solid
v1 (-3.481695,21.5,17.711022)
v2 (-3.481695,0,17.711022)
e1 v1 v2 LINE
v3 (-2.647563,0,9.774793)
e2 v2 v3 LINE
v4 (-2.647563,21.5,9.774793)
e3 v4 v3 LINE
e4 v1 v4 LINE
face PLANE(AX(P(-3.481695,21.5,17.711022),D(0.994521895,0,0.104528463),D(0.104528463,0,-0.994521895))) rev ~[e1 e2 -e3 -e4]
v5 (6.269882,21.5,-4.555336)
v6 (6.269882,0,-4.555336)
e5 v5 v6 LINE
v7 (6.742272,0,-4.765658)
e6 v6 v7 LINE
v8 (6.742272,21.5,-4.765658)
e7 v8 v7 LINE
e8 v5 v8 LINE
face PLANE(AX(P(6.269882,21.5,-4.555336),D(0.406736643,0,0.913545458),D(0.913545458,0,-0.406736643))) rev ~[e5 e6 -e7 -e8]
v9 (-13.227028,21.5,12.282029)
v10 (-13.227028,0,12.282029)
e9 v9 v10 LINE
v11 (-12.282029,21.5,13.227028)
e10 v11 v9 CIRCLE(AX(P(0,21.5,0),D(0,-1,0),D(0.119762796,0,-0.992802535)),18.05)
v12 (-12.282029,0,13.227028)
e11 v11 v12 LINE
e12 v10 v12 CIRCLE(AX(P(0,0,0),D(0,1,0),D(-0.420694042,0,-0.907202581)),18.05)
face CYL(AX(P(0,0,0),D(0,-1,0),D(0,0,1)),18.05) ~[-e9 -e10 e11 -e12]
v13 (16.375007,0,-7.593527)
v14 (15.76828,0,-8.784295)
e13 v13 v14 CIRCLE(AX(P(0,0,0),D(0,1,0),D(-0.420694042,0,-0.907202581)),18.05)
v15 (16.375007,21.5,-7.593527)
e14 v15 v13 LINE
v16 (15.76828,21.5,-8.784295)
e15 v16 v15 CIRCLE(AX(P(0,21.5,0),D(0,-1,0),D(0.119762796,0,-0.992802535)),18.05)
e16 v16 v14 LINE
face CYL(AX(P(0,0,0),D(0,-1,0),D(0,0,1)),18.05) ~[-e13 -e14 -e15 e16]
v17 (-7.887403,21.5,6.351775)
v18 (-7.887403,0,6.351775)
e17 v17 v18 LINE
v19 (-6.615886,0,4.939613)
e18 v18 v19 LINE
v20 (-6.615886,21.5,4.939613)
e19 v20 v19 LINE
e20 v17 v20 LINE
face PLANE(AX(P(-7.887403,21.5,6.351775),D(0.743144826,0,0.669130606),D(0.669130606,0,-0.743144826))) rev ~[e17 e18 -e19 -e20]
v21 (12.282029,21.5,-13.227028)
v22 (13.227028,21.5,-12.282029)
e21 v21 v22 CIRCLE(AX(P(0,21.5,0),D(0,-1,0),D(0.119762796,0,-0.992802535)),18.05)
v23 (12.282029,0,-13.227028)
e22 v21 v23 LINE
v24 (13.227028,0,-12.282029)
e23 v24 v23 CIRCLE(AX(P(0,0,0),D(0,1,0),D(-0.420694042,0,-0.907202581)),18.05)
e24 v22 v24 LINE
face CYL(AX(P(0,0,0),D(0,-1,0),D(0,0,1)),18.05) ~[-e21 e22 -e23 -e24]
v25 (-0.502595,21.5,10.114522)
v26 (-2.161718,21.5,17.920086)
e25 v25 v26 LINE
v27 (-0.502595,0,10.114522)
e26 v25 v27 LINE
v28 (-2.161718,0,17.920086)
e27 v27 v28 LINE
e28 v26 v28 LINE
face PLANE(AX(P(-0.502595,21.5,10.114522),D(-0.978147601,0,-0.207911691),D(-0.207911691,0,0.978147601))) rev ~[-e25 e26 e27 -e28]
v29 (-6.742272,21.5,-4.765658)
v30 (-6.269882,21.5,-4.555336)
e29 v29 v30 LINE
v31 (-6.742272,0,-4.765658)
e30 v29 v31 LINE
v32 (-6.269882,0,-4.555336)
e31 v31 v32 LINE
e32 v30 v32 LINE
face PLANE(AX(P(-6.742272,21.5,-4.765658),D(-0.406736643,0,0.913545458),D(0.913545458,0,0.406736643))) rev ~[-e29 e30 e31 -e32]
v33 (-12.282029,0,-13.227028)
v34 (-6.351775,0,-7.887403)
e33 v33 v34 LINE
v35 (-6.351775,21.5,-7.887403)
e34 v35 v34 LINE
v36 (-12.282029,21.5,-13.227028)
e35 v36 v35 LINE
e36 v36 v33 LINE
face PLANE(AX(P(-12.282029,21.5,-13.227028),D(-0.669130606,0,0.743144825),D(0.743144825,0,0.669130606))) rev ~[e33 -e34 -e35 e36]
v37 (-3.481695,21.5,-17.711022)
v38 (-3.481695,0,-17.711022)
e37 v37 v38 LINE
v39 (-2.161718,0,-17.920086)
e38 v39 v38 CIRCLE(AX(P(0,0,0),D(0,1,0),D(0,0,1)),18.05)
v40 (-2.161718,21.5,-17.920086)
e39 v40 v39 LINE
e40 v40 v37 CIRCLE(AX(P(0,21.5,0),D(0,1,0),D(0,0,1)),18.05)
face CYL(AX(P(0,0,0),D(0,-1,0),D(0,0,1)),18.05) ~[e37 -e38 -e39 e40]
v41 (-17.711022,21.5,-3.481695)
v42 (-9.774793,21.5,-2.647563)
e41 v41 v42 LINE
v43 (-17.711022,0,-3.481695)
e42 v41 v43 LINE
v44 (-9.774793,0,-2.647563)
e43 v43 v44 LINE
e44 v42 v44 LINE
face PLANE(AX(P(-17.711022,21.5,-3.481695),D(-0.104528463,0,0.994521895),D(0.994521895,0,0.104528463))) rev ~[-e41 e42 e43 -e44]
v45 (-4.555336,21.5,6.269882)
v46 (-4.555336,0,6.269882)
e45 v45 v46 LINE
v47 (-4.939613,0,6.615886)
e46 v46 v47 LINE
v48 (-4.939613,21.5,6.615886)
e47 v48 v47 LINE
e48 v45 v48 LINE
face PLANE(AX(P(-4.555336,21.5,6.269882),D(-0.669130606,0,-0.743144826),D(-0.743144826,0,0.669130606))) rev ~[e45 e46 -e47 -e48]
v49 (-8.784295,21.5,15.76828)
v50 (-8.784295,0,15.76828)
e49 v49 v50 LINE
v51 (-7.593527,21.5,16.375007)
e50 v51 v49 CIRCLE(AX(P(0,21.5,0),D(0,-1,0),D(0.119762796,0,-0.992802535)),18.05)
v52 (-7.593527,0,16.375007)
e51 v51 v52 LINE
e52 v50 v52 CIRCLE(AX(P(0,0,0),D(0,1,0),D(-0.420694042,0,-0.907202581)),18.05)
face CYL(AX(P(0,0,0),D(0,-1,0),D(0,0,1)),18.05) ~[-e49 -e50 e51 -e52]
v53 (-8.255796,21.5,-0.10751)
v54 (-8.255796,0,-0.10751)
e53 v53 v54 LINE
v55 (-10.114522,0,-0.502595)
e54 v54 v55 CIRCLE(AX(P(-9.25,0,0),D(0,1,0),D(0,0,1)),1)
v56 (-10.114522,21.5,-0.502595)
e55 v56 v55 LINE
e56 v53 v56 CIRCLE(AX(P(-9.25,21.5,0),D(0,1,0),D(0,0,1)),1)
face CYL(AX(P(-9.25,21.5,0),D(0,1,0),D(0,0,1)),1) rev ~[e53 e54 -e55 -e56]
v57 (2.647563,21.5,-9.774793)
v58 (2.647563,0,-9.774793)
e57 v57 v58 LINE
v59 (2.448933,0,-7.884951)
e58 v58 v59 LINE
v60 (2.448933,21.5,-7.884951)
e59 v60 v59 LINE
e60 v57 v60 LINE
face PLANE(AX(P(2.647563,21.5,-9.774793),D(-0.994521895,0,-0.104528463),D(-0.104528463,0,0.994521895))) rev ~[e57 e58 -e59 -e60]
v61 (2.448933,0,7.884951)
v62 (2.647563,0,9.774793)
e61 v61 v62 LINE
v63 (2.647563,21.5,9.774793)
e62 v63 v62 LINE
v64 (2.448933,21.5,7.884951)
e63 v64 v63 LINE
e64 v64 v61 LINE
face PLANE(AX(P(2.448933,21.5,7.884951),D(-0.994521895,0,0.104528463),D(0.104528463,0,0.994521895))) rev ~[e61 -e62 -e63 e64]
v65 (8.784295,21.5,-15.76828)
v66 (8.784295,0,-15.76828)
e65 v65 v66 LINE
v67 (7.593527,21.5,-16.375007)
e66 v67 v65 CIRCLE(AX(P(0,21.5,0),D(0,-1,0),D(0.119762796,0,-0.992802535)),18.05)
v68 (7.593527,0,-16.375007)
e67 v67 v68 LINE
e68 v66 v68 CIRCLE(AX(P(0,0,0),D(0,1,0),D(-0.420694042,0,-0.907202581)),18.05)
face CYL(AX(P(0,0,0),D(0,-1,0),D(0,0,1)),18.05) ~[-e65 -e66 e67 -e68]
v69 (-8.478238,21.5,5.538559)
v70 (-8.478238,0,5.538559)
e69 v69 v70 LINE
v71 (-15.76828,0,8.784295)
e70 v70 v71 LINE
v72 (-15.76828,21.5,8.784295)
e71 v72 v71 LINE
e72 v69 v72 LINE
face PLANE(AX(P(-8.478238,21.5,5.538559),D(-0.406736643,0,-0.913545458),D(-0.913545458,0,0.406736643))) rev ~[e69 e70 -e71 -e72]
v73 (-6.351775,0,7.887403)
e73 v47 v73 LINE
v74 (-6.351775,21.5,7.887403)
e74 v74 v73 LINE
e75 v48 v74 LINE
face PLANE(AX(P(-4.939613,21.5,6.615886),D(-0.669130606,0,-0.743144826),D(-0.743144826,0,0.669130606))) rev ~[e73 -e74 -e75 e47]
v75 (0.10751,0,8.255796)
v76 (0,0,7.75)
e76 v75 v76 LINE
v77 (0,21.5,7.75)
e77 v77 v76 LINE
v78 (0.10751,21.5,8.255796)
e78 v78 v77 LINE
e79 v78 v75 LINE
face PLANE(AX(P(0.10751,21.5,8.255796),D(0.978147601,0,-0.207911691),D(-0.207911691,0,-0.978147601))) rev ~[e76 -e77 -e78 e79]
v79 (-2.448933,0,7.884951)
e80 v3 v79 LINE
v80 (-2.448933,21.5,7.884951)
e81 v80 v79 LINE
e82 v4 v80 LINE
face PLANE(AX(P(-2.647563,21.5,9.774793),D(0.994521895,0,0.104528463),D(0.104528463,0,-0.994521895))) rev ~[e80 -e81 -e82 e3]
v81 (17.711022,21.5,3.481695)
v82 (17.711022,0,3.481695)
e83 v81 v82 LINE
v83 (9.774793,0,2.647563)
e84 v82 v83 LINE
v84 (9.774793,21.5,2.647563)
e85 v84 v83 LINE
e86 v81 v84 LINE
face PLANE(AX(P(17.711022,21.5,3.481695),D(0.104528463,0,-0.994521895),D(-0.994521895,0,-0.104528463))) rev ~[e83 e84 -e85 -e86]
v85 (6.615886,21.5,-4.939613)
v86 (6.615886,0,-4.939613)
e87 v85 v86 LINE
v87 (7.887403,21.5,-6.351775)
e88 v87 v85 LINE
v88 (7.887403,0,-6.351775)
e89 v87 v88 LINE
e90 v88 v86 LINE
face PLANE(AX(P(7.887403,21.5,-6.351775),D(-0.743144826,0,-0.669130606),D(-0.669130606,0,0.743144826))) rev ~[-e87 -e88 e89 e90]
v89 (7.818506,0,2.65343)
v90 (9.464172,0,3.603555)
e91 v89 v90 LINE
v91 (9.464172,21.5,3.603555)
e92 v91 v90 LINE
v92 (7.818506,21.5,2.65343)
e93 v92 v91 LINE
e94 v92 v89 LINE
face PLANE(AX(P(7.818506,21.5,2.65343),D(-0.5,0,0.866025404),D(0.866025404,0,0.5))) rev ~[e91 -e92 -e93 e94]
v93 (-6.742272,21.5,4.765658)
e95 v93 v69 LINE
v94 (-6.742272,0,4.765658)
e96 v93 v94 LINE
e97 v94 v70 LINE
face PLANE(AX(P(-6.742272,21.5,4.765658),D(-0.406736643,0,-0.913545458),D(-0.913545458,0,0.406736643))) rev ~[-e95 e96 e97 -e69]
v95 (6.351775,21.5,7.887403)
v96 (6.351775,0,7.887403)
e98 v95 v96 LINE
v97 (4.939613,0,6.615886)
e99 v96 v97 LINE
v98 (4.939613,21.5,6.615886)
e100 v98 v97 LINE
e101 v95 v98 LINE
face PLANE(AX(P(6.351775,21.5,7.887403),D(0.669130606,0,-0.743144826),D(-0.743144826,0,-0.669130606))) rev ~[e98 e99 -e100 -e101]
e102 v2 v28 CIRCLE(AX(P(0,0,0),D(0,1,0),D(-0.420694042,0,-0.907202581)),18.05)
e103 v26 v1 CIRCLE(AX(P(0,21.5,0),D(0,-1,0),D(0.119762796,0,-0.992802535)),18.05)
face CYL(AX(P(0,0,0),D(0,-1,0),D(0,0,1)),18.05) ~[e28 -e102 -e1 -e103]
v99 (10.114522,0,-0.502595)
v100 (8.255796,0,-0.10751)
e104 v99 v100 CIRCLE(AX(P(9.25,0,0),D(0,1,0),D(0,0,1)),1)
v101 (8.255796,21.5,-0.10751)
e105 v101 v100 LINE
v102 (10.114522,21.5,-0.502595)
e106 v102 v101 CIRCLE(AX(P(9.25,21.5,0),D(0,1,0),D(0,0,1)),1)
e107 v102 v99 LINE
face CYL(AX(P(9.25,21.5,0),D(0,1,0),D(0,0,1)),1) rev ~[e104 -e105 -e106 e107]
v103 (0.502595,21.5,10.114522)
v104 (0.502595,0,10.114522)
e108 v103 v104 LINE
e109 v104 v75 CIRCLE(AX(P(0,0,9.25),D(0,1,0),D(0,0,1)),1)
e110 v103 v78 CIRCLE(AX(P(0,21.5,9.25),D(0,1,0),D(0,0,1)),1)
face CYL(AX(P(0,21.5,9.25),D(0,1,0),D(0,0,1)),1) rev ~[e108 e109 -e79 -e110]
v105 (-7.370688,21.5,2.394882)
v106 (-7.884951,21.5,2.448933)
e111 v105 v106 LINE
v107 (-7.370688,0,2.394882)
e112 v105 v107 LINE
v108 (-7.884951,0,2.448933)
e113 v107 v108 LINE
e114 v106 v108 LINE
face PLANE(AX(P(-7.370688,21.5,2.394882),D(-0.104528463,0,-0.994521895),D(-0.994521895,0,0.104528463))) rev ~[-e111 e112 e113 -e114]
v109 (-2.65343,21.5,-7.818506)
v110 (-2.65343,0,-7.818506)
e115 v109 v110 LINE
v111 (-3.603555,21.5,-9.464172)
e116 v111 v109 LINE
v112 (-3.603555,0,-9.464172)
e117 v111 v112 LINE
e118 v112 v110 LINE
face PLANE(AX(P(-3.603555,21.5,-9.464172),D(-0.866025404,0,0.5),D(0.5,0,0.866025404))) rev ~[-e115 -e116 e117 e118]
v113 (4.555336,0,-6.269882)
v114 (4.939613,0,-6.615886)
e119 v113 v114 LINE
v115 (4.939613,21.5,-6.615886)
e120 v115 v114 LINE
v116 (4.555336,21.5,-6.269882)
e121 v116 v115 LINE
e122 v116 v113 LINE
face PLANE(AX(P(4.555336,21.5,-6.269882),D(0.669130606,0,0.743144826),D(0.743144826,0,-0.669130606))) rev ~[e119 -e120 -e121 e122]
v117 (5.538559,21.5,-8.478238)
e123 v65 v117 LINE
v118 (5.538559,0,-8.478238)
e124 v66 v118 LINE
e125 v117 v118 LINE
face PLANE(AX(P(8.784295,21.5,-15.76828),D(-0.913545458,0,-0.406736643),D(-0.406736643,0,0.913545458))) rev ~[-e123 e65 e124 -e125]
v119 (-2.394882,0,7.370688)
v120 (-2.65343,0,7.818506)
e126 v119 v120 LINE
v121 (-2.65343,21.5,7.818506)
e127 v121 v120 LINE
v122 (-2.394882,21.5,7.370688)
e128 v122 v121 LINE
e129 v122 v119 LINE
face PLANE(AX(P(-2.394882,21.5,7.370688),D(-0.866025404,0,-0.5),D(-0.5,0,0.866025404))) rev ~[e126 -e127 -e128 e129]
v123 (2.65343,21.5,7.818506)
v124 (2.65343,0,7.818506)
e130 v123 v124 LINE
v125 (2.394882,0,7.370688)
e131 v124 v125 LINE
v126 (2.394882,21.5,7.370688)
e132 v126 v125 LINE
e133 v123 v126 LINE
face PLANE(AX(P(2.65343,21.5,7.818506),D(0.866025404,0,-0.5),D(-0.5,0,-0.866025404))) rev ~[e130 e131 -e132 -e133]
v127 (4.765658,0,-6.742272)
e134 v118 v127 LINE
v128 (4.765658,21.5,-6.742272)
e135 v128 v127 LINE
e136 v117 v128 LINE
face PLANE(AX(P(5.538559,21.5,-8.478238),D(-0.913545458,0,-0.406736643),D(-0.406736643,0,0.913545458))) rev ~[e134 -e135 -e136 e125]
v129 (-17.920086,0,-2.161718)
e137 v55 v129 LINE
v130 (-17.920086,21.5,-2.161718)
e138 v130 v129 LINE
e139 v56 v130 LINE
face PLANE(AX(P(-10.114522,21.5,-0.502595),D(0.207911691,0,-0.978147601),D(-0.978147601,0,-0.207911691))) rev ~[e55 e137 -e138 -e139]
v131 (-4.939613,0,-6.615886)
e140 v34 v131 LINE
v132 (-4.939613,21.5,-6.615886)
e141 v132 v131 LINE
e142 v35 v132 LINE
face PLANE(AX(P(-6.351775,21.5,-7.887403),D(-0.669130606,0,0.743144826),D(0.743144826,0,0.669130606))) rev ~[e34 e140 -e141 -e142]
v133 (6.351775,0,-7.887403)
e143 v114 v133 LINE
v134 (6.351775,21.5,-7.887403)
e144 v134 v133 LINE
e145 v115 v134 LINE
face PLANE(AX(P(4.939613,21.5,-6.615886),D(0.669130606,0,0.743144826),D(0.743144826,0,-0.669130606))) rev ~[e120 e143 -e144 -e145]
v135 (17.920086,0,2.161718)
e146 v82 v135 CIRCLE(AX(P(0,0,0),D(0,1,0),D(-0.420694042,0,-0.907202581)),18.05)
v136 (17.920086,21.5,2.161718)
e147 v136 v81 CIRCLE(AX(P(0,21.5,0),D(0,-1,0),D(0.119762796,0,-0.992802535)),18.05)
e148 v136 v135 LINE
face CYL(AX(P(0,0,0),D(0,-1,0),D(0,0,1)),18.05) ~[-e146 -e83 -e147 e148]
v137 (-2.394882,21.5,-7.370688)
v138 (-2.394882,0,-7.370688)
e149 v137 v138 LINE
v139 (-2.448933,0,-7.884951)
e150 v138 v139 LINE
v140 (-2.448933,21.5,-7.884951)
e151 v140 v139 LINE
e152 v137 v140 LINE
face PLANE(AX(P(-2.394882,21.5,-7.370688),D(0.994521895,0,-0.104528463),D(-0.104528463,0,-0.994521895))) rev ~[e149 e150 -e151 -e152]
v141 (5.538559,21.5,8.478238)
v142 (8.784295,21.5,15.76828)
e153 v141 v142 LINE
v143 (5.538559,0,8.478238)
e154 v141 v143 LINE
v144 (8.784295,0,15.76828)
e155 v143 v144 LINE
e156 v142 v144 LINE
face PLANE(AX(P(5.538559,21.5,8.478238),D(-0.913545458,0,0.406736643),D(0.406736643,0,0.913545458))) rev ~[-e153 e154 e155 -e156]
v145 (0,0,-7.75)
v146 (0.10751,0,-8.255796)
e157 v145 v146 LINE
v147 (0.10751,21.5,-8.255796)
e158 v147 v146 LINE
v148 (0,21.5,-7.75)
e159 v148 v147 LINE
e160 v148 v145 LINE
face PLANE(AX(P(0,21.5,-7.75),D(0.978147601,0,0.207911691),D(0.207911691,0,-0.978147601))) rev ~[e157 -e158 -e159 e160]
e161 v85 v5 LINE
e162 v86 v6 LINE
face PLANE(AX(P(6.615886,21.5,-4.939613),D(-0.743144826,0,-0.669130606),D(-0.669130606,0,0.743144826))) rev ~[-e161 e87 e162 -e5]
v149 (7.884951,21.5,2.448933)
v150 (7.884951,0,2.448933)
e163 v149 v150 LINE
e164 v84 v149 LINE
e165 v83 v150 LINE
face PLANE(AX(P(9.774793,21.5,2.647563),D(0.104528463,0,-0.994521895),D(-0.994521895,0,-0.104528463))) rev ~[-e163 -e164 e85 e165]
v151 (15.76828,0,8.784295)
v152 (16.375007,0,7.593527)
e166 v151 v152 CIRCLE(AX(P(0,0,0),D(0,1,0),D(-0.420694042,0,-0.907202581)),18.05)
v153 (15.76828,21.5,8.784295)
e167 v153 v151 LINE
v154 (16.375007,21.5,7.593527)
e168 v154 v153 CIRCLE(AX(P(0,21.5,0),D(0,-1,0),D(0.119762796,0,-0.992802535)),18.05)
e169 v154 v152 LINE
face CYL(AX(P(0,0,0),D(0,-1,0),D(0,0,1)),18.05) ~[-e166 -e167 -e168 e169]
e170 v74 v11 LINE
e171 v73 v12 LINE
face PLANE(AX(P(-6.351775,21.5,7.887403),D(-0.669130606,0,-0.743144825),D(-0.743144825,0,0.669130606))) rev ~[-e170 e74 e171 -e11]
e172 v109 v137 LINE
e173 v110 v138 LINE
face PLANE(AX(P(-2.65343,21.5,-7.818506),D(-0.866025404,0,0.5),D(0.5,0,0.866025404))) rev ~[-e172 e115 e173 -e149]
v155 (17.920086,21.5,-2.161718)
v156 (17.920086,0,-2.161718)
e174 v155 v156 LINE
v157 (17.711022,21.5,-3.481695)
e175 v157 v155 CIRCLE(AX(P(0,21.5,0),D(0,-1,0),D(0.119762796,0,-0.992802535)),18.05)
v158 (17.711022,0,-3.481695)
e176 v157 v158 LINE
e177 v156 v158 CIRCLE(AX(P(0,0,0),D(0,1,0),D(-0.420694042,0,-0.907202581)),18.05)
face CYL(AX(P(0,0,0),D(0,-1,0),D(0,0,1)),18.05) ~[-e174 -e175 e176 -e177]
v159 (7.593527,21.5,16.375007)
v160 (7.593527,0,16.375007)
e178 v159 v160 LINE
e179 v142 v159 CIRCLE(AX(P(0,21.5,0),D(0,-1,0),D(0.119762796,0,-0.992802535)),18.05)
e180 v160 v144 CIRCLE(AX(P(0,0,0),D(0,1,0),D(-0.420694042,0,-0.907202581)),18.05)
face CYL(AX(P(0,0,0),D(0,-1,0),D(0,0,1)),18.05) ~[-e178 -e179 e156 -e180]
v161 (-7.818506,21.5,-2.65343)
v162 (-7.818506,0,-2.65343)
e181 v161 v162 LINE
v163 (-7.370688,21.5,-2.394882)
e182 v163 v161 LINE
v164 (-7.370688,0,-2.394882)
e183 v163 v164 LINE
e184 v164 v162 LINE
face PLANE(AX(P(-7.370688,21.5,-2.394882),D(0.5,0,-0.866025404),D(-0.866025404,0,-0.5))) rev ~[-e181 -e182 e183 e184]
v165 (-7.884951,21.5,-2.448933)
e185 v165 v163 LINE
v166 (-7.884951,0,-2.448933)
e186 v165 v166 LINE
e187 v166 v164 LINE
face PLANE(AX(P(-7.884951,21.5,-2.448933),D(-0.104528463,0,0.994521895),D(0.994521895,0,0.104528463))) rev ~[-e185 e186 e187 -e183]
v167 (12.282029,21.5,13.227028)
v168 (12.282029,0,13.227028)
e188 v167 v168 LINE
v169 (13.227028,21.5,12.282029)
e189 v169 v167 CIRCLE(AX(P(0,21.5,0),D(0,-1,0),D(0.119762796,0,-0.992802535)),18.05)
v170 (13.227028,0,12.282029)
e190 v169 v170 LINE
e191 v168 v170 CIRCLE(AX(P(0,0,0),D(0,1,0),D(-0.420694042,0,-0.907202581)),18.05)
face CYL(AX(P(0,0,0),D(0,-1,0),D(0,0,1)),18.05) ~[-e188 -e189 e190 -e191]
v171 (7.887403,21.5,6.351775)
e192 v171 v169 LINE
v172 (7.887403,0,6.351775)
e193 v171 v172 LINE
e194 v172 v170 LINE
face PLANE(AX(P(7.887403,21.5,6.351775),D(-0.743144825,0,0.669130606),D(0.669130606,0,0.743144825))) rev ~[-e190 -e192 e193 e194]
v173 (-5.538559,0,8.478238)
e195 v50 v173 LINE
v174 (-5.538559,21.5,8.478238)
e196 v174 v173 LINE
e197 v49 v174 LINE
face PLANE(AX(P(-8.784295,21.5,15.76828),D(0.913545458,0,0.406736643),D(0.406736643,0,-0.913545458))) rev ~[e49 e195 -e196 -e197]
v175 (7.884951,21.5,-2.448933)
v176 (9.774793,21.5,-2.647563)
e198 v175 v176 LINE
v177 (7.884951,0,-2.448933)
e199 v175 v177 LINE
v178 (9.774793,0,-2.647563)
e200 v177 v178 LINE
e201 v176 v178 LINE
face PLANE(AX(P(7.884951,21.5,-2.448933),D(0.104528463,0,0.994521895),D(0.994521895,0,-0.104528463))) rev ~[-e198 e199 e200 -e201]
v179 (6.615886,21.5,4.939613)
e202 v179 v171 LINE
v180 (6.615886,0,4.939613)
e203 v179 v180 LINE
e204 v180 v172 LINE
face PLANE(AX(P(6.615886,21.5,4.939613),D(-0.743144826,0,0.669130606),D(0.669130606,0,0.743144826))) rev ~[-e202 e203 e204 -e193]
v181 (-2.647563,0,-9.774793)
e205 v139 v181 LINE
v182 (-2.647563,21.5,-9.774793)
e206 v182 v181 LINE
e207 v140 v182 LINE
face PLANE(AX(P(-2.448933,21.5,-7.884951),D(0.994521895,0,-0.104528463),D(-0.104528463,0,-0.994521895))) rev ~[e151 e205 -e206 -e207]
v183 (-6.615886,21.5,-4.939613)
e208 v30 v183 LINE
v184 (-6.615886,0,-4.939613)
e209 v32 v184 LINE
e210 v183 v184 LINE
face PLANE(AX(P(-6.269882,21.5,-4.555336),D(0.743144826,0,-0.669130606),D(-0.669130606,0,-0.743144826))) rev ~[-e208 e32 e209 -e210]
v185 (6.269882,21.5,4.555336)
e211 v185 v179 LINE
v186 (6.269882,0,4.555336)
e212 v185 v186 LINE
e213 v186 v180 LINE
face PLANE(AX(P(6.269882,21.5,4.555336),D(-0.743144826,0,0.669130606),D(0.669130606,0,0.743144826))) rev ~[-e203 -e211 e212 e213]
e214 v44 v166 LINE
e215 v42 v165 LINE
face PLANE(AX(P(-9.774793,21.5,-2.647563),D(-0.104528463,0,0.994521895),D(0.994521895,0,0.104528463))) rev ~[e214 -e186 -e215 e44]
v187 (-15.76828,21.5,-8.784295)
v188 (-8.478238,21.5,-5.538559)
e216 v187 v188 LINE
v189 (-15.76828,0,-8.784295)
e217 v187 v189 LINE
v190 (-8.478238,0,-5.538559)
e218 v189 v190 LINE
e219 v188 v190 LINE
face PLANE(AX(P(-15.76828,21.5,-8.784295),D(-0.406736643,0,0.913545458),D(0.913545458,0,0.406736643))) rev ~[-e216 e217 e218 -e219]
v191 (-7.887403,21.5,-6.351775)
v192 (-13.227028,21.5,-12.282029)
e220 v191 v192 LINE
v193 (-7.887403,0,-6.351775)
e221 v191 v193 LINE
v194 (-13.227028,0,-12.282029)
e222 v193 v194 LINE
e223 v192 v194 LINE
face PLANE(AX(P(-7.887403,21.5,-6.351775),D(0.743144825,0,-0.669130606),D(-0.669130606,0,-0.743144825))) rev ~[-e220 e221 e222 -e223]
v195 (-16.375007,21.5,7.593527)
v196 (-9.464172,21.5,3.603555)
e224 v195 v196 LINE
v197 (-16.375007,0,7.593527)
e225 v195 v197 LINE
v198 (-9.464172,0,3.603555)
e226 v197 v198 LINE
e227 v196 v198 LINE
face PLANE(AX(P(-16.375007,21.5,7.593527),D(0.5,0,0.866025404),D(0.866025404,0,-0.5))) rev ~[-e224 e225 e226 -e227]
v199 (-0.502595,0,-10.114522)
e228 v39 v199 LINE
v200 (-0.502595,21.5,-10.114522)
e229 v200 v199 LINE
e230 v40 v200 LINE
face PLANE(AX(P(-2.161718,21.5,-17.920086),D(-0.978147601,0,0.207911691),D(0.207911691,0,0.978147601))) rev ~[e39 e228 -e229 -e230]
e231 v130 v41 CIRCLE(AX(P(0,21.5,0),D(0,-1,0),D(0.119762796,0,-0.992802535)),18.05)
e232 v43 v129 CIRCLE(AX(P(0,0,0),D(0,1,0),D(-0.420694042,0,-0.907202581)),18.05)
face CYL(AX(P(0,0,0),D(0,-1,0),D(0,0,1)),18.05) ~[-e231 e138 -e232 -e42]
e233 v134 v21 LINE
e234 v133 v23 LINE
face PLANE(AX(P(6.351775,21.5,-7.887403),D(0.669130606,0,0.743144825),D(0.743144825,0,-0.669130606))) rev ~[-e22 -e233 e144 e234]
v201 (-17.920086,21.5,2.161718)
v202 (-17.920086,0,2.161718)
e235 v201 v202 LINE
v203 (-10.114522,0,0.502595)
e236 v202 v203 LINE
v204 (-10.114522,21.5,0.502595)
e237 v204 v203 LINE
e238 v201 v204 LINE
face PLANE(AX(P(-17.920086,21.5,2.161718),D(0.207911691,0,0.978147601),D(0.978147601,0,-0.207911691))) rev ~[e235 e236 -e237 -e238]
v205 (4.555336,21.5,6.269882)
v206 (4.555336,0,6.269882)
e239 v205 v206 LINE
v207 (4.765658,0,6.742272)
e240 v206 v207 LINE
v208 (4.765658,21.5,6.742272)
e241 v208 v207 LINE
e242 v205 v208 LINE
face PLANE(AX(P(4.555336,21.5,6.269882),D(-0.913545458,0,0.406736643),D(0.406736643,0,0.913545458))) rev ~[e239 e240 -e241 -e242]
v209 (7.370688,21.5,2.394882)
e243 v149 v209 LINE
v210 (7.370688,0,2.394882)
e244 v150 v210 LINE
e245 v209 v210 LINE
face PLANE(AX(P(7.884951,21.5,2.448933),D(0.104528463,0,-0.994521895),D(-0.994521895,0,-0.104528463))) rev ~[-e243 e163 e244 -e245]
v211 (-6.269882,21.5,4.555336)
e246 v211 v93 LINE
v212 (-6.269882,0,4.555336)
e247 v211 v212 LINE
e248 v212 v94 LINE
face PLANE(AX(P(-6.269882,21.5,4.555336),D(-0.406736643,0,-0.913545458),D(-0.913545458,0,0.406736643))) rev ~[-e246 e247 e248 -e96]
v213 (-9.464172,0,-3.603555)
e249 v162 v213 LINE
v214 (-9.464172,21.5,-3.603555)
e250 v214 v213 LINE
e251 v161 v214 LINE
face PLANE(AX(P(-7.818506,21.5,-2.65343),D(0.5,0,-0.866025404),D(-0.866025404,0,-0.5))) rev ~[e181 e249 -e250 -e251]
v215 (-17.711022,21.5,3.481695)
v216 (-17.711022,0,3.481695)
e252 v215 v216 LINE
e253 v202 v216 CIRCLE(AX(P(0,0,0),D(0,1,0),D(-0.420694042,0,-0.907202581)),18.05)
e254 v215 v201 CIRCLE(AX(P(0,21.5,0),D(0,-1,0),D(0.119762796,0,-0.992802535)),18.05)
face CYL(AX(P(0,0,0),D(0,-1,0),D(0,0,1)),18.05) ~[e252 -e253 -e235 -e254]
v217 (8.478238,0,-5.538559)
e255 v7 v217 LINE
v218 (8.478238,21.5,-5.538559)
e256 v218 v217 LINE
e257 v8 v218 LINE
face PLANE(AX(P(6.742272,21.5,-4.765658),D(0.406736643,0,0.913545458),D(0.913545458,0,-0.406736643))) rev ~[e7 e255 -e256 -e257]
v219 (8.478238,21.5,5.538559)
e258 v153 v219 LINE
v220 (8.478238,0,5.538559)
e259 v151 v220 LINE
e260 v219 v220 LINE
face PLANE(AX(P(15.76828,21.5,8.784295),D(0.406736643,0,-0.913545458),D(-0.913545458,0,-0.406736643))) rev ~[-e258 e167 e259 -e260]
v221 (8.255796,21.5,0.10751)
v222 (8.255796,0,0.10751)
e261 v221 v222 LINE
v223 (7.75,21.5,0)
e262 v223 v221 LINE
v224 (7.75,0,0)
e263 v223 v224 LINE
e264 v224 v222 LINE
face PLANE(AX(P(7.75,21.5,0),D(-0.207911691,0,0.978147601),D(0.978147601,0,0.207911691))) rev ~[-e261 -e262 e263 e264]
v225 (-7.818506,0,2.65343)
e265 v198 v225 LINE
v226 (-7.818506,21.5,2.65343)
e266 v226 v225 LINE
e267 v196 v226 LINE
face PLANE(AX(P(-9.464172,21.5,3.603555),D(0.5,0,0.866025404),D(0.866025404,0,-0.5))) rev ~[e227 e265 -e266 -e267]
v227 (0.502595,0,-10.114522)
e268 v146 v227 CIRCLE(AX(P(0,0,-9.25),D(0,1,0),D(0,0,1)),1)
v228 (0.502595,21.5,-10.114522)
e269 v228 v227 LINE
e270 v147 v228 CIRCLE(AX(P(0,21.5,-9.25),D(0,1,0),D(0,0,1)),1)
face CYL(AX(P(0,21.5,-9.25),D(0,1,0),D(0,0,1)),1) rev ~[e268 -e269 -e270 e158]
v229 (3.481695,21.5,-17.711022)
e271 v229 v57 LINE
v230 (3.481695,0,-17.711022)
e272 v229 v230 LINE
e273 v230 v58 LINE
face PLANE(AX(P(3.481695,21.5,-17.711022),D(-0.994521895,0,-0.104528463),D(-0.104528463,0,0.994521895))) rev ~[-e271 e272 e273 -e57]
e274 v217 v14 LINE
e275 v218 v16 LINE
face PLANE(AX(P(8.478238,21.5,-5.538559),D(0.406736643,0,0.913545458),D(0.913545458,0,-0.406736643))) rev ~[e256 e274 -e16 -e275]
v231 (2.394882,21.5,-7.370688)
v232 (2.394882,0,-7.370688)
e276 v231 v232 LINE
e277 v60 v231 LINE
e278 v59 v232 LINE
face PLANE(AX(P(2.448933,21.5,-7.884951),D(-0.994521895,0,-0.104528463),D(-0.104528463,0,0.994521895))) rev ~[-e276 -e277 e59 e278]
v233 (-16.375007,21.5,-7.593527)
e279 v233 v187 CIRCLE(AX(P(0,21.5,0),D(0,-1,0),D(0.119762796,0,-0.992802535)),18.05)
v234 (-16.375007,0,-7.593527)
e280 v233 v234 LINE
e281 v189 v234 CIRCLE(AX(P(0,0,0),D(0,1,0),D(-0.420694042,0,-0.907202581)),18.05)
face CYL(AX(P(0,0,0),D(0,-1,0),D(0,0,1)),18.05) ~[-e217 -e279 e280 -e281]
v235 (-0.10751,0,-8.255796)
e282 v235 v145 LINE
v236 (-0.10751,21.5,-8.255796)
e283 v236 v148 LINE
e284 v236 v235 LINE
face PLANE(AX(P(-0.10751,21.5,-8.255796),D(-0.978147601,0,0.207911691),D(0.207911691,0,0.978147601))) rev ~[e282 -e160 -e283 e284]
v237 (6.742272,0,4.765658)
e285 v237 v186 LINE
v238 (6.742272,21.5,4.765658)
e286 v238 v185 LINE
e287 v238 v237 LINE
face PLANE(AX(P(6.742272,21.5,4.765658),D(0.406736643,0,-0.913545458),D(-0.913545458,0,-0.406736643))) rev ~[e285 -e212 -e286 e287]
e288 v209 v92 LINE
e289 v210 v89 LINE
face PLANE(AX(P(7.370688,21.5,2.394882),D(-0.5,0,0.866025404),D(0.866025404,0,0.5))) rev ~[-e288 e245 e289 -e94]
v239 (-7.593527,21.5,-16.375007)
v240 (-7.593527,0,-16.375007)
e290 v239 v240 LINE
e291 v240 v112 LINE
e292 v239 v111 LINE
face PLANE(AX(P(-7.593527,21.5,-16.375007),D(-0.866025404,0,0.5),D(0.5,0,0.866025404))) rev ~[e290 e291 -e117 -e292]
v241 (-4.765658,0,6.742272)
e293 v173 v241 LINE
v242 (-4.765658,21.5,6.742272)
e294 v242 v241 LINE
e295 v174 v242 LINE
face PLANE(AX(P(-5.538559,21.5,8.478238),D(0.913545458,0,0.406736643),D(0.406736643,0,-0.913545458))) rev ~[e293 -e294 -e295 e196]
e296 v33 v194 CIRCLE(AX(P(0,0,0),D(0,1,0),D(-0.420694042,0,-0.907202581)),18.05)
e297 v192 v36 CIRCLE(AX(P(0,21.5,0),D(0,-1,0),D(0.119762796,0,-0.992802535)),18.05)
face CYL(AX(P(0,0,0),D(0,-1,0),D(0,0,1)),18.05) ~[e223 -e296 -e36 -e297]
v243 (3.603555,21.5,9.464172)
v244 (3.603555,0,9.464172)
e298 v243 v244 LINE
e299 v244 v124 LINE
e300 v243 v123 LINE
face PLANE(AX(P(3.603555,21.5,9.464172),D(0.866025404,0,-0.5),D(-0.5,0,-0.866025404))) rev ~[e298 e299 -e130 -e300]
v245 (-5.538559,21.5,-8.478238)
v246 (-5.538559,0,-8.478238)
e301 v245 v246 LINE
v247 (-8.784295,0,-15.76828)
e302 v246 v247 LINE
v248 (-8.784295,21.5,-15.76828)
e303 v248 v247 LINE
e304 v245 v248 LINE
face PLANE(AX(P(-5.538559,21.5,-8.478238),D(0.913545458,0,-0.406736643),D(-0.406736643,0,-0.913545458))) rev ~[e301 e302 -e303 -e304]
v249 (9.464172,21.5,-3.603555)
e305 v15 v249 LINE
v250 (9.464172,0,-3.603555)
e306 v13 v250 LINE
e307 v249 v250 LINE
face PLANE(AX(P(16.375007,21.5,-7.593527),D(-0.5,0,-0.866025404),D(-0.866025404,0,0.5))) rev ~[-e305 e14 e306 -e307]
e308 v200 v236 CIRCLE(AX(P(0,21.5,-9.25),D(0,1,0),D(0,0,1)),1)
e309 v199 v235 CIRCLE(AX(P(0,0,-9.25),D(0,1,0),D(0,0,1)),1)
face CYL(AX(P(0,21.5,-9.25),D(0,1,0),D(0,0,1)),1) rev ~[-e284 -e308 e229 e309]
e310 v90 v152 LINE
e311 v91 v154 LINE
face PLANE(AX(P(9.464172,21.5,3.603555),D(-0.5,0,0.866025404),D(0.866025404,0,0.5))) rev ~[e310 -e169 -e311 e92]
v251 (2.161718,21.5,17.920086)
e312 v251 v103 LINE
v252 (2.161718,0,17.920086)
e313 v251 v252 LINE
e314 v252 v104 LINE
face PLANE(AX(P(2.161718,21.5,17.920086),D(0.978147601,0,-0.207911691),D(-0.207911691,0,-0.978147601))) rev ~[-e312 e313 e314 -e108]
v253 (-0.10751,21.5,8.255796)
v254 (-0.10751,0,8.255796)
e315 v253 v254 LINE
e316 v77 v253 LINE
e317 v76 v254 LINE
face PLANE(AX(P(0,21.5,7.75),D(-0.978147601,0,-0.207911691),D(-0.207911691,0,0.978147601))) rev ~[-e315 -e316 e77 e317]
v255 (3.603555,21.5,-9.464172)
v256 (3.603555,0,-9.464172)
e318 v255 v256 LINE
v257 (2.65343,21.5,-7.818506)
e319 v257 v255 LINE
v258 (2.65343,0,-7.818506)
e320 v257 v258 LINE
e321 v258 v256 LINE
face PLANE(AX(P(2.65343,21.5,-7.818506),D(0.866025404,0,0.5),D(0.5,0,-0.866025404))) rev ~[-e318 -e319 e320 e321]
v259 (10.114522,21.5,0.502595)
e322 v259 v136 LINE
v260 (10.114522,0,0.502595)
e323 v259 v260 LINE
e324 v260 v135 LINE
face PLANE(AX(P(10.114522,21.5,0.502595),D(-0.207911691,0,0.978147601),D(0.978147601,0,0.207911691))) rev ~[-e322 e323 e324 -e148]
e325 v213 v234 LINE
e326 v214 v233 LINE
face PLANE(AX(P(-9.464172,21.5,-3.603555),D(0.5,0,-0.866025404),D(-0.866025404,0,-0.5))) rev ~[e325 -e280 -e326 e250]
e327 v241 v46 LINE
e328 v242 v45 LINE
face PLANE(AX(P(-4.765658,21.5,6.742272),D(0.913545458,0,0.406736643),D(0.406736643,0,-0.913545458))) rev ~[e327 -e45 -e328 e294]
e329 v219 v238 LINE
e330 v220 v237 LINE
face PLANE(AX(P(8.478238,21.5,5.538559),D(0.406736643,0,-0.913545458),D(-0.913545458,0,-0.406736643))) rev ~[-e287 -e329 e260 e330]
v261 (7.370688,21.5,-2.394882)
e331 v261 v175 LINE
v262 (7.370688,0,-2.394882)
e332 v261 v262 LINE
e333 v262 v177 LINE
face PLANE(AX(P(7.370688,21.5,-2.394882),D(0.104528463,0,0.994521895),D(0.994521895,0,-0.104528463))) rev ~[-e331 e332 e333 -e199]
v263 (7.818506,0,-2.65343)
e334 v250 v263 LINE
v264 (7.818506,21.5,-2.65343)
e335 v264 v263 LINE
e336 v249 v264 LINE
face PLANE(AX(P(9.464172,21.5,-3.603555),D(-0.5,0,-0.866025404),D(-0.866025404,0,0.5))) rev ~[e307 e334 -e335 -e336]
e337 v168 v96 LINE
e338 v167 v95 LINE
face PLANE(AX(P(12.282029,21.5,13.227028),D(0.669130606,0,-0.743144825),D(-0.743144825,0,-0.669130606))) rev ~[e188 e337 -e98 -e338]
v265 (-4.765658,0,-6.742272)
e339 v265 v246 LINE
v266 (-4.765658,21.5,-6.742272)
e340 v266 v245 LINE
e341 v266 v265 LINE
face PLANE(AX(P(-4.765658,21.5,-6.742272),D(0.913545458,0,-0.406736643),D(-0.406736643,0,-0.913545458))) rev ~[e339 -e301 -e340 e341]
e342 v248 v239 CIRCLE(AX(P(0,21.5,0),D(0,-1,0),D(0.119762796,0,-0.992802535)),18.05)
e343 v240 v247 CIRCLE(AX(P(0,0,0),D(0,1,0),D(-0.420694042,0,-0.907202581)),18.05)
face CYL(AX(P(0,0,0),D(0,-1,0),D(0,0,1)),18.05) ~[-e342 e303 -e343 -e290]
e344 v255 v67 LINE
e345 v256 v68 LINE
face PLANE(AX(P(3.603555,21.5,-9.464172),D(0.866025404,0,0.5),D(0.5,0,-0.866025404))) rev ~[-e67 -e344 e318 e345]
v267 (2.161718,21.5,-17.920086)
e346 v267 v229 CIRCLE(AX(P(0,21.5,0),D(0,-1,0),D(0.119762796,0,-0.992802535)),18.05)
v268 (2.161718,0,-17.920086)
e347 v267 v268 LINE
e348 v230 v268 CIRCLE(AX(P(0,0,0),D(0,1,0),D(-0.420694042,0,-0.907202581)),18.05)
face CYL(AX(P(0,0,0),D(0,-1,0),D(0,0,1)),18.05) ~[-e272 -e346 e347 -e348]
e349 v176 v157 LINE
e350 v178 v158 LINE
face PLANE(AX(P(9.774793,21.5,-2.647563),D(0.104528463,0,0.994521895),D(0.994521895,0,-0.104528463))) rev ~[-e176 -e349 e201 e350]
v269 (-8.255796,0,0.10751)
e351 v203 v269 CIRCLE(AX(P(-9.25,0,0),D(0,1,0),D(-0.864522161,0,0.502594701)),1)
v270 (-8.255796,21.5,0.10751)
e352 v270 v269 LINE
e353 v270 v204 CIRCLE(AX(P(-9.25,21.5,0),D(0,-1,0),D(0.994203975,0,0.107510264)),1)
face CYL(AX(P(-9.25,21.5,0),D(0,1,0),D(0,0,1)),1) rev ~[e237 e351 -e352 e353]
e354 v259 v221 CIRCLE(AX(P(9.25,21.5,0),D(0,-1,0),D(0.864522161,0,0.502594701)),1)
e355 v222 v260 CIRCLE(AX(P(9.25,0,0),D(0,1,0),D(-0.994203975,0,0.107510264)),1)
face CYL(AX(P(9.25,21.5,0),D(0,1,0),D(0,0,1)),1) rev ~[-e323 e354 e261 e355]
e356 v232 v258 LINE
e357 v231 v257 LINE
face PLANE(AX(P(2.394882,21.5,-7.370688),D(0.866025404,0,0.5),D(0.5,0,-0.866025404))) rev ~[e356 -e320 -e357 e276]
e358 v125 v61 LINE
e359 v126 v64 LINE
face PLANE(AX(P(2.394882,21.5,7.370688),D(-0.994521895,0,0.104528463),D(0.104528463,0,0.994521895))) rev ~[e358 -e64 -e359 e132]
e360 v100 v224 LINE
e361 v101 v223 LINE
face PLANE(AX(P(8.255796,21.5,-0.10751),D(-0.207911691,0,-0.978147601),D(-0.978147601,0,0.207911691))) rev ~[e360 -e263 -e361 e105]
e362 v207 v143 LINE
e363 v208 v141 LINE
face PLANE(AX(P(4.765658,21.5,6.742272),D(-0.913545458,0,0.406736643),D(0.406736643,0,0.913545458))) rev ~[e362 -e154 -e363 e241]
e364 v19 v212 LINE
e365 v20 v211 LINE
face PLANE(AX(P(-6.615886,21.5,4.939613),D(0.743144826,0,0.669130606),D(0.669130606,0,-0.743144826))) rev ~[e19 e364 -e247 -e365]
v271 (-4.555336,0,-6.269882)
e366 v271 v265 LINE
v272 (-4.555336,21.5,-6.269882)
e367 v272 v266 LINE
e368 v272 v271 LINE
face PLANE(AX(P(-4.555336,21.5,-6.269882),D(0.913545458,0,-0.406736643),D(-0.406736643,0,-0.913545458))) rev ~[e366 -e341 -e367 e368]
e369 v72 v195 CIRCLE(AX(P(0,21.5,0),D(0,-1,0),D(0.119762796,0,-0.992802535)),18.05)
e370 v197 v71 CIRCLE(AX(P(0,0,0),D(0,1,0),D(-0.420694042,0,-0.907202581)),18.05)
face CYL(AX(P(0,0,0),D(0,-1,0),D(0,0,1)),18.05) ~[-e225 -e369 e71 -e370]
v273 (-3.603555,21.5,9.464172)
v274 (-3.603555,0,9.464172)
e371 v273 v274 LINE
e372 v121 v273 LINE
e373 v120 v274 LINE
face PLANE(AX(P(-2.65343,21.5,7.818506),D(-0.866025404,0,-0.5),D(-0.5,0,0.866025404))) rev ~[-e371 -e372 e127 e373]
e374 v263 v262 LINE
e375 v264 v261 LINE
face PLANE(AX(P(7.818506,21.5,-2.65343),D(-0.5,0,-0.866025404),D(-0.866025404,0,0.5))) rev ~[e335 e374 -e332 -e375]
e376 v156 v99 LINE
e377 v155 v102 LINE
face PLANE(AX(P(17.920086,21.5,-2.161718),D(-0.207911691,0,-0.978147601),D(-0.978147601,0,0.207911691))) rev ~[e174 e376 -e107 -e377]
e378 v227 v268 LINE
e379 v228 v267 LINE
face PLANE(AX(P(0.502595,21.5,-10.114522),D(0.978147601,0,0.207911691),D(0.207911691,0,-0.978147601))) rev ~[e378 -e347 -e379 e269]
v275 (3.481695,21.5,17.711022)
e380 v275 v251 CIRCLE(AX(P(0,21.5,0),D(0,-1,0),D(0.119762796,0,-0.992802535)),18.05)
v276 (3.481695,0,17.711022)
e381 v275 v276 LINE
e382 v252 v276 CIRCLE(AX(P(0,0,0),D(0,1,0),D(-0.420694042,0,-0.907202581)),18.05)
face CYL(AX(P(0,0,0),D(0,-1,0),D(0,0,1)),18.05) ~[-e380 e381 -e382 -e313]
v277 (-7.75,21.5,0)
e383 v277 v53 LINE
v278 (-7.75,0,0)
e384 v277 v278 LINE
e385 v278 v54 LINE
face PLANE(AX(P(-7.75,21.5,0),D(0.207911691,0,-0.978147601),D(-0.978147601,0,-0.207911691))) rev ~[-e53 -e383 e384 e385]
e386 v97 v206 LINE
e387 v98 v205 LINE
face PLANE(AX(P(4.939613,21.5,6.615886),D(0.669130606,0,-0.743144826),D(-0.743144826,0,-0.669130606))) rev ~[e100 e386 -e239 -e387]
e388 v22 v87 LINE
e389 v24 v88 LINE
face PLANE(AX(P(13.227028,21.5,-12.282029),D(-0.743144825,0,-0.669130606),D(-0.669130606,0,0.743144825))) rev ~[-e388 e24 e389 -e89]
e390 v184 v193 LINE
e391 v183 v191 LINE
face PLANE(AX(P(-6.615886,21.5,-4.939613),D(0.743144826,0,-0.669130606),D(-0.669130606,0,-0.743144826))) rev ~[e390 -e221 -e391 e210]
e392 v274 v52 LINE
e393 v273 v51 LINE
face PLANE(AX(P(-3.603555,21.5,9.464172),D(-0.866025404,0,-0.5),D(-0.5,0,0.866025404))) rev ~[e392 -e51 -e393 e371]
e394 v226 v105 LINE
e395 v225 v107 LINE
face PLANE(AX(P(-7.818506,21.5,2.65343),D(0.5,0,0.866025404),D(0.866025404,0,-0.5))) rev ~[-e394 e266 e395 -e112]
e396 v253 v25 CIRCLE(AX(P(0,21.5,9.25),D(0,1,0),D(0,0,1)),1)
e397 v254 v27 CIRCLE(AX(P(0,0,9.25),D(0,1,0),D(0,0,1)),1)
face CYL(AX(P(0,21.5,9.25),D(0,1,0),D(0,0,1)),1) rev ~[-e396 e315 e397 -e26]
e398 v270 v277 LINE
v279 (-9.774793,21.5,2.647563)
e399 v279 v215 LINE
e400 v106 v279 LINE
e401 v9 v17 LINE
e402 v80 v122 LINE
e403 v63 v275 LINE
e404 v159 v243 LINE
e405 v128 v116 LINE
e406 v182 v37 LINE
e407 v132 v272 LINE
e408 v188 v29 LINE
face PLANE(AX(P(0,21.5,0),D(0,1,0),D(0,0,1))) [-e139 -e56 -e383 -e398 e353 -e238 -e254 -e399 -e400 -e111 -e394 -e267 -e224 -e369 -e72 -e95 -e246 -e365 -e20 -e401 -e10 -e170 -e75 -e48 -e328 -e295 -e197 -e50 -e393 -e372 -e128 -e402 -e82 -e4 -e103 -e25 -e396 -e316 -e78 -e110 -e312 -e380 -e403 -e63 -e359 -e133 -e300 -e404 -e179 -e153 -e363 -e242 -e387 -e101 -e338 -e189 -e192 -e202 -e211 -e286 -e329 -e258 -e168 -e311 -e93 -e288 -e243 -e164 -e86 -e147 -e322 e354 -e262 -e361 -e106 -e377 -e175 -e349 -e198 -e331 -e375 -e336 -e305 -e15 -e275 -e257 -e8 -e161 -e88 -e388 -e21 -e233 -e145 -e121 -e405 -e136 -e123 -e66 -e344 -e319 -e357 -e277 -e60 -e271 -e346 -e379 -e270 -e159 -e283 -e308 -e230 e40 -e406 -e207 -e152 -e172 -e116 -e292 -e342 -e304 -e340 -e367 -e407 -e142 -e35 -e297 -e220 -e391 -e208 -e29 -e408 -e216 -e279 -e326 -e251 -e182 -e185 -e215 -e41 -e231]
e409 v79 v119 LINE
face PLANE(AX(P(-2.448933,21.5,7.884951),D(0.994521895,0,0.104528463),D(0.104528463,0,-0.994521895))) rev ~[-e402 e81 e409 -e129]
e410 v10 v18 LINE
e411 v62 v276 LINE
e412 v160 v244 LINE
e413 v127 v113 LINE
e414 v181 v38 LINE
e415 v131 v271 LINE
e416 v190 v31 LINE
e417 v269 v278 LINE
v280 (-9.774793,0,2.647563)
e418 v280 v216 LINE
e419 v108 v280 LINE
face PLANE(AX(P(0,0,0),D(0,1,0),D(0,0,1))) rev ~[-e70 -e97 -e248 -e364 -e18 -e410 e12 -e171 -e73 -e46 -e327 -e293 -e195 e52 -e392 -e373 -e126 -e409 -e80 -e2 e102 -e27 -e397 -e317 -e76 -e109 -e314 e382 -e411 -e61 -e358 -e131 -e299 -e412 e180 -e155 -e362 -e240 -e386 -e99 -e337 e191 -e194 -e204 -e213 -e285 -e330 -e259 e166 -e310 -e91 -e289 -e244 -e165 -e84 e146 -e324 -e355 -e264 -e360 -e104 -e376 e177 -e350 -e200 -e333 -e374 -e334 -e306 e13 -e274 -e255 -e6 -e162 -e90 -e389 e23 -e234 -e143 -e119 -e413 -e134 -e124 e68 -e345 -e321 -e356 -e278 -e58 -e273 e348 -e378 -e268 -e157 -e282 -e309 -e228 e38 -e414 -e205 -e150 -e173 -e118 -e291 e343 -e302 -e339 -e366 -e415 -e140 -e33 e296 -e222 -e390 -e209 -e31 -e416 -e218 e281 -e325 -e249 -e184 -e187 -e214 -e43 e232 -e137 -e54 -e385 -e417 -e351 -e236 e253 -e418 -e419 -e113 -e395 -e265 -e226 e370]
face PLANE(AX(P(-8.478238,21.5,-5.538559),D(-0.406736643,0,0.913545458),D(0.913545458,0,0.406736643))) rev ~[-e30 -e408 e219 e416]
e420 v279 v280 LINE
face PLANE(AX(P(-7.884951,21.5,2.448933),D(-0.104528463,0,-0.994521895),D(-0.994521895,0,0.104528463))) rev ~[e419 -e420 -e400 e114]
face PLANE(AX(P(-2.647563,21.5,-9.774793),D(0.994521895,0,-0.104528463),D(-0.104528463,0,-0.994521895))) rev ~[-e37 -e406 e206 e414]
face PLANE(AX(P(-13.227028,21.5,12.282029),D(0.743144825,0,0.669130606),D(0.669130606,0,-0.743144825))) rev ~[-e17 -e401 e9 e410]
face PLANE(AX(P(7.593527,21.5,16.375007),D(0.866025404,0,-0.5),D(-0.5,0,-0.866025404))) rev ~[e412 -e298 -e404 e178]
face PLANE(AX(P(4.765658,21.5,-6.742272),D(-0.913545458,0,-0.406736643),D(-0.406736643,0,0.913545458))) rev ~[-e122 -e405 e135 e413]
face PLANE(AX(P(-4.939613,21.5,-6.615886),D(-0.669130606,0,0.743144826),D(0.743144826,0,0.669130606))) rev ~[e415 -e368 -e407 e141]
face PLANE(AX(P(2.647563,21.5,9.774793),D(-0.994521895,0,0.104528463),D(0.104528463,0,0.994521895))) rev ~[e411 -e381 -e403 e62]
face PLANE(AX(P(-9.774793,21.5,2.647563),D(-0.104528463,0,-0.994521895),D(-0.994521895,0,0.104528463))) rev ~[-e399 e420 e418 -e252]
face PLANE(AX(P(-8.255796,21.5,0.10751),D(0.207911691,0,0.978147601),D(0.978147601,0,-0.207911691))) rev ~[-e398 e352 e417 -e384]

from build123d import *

# Parameters (mm, degrees)
SKETCH1_R           = 18.05
BOSS_EXTRUDE1_DEPTH = 21.5
SKETCH2_R           = 1
CUT_EXTRUDE1_DEPTH  = 34.374466288
CUT_EXTRUDE2_DEPTH  = 34.374466288
CIRPATTERN1_COUNT   = 20


with BuildPart() as part:
    # Sketch1 → Boss-Extrude1 (new body)
    with BuildSketch(Plane(origin=(0, 0, 0), x_dir=(1, 0, 0), z_dir=(0, 1, 0))):
        with Locations(Location((0, 0, 0), (0, 0, 270))):
            Circle(SKETCH1_R)
    extrude(amount=BOSS_EXTRUDE1_DEPTH)

    # Sketch2 → Cut-Extrude1 (cut, through all)
    with BuildSketch(Plane(origin=(0, 21.5, 0), x_dir=(1, 0, 0), z_dir=(0, 1, 0))):
        with Locations(Location((-9.25, 0, 0), (0, 0, 270))):
            Circle(SKETCH2_R)
        with Locations(Location((0, 9.25, 0), (0, 0, 270))):
            Circle(SKETCH2_R)
        with Locations(Location((9.25, 0, 0), (0, 0, 270))):
            Circle(SKETCH2_R)
        with Locations(Location((0, -9.25, 0), (0, 0, 270))):
            Circle(SKETCH2_R)
    extrude(amount=-CUT_EXTRUDE1_DEPTH, mode=Mode.SUBTRACT)

    # Sketch3 → Cut-Extrude2 (cut, through all)
    with BuildSketch(Plane(origin=(0, 21.5, 0), x_dir=(1, 0, 0), z_dir=(0, 1, 0))):
        with BuildLine():
            ThreePointArc((2.161718459, 17.92008575), (0, 18.05), (-2.161718459, 17.92008575))
            Line((-2.161718459, 17.92008575), (-0.502594701, 10.114522161))
            ThreePointArc((-0.502594701, 10.114522161), (0, 10.25), (0.502594701, 10.114522161))
            Line((0.502594701, 10.114522161), (2.161718459, 17.92008575))
        make_face()
        with BuildLine():
            ThreePointArc((0.502594701, 10.114522161), (0, 10.25), (-0.502594701, 10.114522161))
            Line((-0.502594701, 10.114522161), (-0.107510264, 8.255796025))
            ThreePointArc((-0.107510264, 8.255796025), (0, 8.25), (0.107510264, 8.255796025))
            Line((0.107510264, 8.255796025), (0.502594701, 10.114522161))
        make_face()
        with BuildLine():
            ThreePointArc((0.107510264, 8.255796025), (0, 8.25), (-0.107510264, 8.255796025))
            Line((-0.107510264, 8.255796025), (0, 7.75))
            Line((0, 7.75), (0.107510264, 8.255796025))
        make_face()
    cut_extrude2 = extrude(amount=-CUT_EXTRUDE2_DEPTH, mode=Mode.SUBTRACT)

    # CirPattern1: Cut-Extrude2 ×20 about axis
    cirpattern1_axis = Axis((0, 0, 0), (0, 1, 0))
    for i in range(1, CIRPATTERN1_COUNT):
        add(cut_extrude2.rotate(cirpattern1_axis, i * 360 / CIRPATTERN1_COUNT), mode=Mode.SUBTRACT)


solid = part.part
